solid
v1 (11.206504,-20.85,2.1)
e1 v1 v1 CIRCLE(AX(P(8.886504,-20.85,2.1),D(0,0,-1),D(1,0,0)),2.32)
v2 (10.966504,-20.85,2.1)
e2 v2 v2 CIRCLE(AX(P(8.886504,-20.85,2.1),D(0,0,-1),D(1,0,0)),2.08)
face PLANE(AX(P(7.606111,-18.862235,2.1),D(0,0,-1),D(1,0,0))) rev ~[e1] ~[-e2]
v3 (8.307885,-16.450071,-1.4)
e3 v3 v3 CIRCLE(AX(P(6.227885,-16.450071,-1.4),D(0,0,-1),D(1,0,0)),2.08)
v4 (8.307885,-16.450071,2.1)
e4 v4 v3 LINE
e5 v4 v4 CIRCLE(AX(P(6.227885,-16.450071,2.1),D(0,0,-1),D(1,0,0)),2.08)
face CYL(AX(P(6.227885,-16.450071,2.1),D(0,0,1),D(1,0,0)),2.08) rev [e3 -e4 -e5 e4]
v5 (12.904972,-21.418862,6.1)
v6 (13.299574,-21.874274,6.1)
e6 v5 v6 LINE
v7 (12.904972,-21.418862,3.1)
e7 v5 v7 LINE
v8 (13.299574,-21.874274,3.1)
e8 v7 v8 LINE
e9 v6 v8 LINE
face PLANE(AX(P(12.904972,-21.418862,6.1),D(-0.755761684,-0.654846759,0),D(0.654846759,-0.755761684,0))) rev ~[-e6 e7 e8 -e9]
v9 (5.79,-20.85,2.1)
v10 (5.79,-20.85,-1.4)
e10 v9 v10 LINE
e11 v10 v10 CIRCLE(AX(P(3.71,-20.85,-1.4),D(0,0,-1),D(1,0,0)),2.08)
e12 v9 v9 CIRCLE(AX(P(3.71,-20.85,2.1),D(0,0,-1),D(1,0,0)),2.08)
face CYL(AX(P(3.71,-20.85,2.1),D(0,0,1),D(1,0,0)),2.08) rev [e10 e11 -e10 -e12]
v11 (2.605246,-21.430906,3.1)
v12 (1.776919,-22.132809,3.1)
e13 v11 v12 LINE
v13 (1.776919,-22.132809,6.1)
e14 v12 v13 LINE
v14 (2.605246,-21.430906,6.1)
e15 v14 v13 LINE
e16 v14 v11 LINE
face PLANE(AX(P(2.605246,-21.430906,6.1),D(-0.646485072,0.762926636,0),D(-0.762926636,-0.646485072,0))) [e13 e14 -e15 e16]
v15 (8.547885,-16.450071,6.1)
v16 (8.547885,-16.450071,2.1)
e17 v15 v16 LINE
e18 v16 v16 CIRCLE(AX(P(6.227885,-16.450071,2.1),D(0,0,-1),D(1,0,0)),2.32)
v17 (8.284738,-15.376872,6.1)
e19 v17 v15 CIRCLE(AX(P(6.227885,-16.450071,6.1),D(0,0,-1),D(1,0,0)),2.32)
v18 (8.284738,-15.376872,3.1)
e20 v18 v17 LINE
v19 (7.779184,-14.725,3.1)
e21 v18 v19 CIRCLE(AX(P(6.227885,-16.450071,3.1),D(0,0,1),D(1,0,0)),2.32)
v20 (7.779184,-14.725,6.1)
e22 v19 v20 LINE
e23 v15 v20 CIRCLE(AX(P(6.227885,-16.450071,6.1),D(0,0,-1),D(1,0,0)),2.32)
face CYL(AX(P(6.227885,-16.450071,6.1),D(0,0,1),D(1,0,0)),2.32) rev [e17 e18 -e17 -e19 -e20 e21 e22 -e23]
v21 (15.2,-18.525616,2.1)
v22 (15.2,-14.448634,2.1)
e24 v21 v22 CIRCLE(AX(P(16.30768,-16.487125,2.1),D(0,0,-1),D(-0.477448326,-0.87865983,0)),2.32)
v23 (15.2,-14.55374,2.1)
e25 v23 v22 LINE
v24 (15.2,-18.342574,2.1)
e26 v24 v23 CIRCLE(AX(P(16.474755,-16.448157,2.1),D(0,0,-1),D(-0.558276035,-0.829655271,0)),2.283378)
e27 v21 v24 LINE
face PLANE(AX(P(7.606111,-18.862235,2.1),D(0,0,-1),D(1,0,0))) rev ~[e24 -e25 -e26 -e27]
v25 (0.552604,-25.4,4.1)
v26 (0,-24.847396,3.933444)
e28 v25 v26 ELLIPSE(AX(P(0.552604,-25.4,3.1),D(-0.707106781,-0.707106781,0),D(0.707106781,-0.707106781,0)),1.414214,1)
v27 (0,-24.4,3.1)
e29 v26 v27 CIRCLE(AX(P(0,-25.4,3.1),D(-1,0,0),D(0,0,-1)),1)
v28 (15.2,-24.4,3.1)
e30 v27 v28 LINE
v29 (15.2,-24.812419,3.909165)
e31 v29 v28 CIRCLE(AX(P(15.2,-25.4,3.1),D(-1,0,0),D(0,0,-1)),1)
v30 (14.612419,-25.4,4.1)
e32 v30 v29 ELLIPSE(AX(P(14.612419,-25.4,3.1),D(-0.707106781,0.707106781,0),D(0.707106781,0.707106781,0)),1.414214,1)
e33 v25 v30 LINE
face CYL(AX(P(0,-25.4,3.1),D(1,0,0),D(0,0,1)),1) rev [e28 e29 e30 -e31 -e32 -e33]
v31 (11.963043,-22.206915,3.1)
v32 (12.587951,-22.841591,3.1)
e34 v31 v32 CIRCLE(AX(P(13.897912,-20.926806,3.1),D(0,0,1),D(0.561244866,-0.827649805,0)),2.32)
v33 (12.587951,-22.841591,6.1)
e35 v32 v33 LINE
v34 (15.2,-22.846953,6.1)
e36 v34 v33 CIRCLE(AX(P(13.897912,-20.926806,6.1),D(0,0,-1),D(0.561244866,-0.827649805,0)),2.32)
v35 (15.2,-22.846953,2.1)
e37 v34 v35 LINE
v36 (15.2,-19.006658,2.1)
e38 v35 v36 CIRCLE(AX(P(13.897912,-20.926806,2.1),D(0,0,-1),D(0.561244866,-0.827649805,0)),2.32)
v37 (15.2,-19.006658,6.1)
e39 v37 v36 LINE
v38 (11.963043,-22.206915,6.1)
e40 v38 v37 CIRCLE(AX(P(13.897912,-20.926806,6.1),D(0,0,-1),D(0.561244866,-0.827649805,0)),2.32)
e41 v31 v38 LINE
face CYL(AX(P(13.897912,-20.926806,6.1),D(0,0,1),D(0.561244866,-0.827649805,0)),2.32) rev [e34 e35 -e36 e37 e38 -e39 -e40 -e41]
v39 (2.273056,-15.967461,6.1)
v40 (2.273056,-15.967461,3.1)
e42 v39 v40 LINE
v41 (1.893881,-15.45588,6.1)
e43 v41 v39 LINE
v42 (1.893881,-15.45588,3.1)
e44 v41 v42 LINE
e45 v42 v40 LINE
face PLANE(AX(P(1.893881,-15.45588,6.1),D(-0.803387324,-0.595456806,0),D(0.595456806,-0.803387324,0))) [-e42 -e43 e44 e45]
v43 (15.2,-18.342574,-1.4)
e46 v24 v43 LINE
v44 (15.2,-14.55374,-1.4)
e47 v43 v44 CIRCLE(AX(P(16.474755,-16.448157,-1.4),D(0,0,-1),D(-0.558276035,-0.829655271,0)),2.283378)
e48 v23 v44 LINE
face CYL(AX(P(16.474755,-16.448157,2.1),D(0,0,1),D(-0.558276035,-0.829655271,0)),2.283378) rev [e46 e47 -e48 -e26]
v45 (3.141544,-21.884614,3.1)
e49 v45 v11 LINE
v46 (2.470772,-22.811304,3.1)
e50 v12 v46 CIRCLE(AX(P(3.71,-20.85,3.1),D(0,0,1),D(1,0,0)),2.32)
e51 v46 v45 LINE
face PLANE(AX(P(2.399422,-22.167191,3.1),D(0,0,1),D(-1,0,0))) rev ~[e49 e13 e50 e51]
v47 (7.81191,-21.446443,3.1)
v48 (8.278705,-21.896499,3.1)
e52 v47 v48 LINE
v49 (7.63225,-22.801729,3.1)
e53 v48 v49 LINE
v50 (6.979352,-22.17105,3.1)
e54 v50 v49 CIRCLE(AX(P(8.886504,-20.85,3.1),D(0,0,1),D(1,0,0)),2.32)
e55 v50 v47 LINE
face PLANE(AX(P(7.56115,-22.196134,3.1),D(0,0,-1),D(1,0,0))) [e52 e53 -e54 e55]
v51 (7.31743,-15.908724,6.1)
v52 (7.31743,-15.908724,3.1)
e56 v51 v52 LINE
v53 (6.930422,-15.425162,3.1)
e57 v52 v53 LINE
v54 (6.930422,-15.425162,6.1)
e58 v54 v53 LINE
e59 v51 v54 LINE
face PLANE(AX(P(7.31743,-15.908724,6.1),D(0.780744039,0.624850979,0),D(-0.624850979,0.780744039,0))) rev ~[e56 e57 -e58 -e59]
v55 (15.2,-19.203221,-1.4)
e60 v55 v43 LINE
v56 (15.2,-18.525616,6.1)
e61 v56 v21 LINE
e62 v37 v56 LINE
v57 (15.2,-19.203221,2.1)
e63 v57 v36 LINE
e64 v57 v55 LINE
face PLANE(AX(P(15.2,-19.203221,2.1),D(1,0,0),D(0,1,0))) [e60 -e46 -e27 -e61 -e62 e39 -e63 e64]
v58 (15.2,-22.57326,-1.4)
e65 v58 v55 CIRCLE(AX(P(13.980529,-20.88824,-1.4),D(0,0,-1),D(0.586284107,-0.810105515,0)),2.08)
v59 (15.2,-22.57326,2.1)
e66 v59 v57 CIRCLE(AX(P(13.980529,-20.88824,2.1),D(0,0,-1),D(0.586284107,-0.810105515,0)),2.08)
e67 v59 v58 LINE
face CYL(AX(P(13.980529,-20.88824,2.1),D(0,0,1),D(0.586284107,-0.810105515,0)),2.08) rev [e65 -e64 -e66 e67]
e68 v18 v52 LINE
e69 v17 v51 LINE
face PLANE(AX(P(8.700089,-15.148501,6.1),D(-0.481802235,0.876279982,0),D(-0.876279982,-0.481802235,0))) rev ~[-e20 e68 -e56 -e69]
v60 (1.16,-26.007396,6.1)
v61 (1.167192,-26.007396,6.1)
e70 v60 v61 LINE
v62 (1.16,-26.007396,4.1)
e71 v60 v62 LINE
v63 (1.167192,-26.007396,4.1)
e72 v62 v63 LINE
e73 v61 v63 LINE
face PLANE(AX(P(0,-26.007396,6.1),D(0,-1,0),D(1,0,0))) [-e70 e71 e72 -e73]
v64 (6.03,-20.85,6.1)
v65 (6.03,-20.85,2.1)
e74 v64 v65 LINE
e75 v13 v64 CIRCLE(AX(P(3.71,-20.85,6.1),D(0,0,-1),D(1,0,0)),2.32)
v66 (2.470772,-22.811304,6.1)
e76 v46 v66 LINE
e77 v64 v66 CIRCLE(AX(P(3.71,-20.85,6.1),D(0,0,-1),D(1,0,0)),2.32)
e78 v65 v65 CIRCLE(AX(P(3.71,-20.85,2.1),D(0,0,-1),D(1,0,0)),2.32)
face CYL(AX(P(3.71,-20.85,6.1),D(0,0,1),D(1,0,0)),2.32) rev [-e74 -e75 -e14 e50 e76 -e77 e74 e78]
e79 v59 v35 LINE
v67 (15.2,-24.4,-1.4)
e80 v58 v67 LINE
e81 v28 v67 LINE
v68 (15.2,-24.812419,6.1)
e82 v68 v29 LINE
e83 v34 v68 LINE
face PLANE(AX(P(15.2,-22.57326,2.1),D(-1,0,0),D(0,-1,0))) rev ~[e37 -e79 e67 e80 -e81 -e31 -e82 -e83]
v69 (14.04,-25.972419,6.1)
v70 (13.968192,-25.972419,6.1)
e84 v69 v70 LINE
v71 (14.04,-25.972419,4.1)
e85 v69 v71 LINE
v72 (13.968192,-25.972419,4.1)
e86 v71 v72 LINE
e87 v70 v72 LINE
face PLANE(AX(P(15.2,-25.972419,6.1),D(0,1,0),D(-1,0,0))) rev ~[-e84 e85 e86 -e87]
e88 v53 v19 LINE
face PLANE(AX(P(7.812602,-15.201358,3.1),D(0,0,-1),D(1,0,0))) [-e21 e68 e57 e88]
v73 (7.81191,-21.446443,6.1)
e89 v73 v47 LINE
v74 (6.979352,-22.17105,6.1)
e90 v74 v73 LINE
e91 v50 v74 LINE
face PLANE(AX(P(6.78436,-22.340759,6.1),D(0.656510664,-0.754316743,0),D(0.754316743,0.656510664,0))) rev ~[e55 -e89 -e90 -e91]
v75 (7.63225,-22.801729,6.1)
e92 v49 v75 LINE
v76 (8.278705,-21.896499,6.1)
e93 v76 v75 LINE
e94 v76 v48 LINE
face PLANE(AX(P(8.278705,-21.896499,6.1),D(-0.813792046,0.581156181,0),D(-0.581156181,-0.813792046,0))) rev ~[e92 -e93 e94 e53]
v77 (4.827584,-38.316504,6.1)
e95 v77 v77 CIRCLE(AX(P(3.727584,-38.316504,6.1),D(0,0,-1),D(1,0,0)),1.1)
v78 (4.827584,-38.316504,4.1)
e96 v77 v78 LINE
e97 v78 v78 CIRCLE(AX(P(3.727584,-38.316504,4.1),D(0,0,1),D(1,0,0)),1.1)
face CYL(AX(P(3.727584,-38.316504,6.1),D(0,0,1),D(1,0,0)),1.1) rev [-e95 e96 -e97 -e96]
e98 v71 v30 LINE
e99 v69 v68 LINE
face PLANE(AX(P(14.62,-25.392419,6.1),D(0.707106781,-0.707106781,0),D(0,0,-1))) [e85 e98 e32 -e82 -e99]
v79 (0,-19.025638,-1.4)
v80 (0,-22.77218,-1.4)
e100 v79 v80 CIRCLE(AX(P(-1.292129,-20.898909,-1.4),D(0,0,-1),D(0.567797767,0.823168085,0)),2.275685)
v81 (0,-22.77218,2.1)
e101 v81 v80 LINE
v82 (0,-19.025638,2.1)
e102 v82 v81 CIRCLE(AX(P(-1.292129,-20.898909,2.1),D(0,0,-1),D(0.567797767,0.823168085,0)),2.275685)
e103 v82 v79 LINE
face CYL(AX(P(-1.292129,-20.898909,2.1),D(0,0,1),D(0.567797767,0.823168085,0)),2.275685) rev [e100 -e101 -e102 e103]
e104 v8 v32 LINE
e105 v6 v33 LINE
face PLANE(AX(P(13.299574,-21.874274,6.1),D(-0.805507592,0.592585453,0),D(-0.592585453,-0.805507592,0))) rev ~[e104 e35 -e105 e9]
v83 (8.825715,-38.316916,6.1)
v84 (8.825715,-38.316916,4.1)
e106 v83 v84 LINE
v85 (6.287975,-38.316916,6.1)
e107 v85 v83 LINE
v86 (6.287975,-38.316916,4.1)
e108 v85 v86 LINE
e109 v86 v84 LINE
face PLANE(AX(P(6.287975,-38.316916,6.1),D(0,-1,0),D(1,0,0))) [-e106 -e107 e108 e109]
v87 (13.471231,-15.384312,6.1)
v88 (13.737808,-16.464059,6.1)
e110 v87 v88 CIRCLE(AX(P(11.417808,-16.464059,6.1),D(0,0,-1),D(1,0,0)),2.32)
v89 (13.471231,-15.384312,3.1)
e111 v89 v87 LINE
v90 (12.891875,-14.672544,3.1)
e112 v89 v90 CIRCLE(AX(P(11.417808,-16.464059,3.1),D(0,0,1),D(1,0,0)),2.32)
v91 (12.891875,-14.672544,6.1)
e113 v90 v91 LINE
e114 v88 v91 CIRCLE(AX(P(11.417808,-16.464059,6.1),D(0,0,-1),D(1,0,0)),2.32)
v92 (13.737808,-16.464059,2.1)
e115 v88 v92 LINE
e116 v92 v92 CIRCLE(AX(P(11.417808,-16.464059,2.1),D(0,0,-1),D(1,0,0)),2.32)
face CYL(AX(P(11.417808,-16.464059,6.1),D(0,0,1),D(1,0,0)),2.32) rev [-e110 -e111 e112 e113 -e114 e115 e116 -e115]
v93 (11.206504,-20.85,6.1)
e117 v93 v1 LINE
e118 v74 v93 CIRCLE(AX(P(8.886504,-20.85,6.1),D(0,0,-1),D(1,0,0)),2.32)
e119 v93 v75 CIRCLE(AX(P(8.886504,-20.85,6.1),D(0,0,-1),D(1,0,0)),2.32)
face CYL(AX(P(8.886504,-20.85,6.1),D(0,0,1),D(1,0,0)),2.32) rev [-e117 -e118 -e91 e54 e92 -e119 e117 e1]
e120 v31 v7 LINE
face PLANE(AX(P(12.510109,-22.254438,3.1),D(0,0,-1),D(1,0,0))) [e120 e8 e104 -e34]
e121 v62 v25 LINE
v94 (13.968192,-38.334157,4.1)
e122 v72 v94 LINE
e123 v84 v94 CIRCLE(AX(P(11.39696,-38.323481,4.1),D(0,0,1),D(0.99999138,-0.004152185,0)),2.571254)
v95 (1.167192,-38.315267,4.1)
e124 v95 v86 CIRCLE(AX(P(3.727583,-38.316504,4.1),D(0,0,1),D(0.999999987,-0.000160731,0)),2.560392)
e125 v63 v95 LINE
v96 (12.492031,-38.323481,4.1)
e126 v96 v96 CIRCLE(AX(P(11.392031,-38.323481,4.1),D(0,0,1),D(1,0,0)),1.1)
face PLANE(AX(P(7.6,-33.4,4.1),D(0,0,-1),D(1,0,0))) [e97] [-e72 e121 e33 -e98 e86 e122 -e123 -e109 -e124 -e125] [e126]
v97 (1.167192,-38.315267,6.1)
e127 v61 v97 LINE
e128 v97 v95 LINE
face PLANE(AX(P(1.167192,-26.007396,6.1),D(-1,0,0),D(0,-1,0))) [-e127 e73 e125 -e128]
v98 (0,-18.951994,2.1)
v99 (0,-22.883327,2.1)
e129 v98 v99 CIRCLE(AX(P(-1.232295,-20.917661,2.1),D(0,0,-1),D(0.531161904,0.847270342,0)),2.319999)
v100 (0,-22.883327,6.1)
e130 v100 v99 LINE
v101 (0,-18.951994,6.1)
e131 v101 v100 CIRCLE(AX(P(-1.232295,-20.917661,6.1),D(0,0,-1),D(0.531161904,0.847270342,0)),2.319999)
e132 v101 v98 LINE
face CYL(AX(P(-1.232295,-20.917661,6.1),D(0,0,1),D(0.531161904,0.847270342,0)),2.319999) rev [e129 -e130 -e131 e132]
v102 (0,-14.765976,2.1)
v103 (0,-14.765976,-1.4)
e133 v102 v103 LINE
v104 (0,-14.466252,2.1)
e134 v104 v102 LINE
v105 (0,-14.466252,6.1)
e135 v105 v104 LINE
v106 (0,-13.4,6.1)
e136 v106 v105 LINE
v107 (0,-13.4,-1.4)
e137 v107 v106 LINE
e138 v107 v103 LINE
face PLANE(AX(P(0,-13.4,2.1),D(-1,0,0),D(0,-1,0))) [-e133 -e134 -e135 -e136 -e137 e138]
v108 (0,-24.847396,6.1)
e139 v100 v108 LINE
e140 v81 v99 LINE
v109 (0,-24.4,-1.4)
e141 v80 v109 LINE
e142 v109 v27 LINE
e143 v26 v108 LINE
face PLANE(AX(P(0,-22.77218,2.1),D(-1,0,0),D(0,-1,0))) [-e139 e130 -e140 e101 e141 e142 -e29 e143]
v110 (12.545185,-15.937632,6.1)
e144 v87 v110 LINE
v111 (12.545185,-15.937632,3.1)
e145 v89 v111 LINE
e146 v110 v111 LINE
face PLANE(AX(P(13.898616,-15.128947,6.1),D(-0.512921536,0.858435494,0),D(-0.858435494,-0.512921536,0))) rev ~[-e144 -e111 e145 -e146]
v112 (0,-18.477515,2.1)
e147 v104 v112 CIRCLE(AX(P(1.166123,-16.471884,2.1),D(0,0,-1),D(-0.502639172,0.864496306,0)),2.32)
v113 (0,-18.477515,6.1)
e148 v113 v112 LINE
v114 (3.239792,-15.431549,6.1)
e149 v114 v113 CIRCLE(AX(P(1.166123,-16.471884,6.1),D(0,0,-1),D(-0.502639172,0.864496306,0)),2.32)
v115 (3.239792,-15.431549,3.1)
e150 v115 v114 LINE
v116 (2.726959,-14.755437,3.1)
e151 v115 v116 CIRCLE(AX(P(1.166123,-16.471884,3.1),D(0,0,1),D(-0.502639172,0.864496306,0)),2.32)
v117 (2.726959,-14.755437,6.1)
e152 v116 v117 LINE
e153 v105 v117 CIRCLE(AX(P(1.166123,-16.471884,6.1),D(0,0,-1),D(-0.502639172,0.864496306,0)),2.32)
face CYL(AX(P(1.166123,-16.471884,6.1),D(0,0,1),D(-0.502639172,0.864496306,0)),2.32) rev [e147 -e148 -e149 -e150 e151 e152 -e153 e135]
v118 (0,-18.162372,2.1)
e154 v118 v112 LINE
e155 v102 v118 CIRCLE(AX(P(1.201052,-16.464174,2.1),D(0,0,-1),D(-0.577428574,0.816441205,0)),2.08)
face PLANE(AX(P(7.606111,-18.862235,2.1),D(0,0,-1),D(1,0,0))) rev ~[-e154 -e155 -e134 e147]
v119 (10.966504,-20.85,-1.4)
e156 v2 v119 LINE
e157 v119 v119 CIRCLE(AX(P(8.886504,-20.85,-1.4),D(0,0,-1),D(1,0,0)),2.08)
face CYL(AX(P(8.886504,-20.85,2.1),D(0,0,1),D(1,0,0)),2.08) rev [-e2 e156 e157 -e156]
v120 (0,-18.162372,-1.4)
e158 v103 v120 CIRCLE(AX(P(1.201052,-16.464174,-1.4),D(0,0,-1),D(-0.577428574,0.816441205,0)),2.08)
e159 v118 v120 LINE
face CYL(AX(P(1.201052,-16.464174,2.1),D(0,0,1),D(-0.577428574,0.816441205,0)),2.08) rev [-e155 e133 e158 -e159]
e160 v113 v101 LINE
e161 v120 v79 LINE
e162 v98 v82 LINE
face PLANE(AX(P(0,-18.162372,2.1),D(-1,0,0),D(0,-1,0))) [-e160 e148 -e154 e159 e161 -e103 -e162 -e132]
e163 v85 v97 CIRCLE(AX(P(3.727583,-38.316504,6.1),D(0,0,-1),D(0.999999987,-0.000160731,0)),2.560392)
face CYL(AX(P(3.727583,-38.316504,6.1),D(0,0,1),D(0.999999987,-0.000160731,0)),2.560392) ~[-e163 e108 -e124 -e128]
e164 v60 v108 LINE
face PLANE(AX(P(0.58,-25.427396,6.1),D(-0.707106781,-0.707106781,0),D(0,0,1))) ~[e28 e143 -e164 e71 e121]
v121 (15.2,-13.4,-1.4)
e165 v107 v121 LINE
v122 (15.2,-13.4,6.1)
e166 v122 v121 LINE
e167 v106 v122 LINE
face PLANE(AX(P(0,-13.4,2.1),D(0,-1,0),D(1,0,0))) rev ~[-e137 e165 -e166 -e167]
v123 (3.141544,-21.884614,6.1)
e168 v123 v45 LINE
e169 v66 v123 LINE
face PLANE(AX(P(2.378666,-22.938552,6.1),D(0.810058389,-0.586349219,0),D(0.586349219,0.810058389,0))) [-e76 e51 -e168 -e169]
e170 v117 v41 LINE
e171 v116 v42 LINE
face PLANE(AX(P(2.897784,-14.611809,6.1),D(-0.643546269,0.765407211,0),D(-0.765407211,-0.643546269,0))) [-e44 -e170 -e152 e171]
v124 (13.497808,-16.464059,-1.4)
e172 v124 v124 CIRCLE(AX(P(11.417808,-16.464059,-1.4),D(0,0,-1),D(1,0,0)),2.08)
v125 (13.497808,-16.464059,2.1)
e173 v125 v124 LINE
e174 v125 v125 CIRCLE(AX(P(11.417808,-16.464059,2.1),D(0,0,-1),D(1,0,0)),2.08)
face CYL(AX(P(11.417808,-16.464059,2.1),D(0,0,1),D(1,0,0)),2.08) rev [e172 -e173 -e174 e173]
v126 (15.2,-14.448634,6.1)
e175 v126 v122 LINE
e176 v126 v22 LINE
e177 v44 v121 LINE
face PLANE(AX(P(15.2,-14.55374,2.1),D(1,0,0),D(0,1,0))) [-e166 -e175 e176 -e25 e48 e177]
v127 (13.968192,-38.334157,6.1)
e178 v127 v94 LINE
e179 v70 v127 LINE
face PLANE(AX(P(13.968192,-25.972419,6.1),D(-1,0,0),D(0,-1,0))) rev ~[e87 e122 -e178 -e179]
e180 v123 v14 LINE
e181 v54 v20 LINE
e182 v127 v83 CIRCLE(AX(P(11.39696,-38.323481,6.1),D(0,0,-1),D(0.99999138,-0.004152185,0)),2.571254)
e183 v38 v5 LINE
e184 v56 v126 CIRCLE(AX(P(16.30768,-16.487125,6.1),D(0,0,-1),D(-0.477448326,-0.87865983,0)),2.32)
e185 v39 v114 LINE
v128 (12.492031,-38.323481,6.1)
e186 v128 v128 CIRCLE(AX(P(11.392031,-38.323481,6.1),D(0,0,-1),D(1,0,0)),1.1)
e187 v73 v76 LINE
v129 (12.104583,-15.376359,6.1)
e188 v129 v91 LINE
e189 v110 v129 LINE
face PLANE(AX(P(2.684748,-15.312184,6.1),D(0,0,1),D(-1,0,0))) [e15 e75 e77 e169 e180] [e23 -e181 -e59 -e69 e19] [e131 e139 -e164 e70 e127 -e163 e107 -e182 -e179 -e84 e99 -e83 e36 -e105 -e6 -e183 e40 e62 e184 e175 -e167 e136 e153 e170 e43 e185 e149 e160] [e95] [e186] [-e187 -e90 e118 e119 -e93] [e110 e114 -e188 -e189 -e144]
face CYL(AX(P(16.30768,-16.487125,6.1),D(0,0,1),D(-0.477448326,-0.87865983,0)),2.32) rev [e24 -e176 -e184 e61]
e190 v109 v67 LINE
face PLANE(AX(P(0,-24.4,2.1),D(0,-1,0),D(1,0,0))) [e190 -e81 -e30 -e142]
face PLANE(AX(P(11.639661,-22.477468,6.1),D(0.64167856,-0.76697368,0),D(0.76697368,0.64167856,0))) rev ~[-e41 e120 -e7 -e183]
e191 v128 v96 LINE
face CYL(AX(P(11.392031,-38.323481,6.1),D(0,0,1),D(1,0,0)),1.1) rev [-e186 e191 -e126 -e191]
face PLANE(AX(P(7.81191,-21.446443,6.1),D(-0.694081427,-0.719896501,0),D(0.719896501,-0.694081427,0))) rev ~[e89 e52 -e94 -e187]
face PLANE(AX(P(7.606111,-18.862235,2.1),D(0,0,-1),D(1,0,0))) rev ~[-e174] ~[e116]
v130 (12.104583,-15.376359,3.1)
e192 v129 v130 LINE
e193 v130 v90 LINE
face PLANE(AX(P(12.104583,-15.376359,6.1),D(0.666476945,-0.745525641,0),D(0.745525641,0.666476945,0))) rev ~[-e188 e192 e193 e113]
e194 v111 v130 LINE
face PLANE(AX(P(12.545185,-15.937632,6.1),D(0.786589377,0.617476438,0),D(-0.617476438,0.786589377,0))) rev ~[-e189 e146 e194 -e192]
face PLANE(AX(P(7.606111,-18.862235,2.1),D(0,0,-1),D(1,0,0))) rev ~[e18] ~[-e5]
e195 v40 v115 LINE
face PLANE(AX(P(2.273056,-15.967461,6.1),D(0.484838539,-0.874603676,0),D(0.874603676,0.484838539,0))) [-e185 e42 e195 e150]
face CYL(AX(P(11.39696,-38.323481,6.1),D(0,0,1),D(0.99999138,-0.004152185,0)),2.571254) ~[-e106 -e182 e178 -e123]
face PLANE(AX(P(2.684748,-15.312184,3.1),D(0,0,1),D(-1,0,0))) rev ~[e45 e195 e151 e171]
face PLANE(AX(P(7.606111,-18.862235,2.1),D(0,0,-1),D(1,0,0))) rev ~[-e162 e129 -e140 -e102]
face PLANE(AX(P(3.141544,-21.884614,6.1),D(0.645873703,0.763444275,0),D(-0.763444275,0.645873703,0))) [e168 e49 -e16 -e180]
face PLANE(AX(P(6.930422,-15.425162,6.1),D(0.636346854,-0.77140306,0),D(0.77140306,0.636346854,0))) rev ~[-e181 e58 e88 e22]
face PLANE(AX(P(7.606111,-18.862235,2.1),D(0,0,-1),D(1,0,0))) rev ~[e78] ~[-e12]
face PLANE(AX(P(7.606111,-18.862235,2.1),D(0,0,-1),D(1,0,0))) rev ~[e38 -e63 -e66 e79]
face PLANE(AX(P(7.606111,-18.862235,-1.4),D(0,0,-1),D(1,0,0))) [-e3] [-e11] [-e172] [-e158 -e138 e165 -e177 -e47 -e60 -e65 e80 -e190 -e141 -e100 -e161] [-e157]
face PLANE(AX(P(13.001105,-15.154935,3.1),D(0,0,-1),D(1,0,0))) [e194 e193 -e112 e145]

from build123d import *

# Parameters (mm, degrees)
BOX_W                     = 15.2
BOX_H                     = 18
BOX_DEPTH                 = 10
PAD007_DEPTH              = 3
SKETCH007_R               = 2.08
PAD006_DEPTH              = 3.5
SKETCH006_R               = 1.1
SKETCH006_R_2             = 2.32
PAD005_DEPTH              = 4
CHAMFER004_SIZE           = 1.16
FILLET_R                  = 1
FUSION003_PLACEMENT_ANGLE = 180


with BuildPart() as w_rfel:
    # Box → Box (new body)
    with BuildSketch(Plane(origin=(0, 11, 2), x_dir=(1, 0, 0), z_dir=(0, 0, 1))):
        with Locations((7.6, 9)):
            Rectangle(BOX_W, BOX_H)
    extrude(amount=BOX_DEPTH)


with BuildPart() as pad007:
    # Sketch003 → Pad007 (new body)
    with BuildSketch(Plane.XY):
        Polygon((2.378666, 9.538552), (3.141544, 8.484614), (2.605246, 8.030906), (1.603856, 8.879459), align=None)
        Polygon((6.78436, 8.940759), (7.81191, 8.046443), (8.278705, 8.496499), (7.513181, 9.568461), align=None)
        Polygon((11.639661, 9.077468), (12.904972, 8.018862), (13.299574, 8.474274), (12.400975, 9.695749), align=None)
        Polygon((12.104583, 1.976359), (13.30563, 0.90266), (13.898616, 1.728947), (12.545185, 2.537632), align=None)
        Polygon((8.700089, 1.748501), (7.31743, 2.508724), (6.930422, 2.025162), (8.137034, 1.029802), align=None)
        Polygon((2.273056, 2.567461), (3.508846, 1.882398), (2.897784, 1.211809), (1.893881, 2.05588), align=None)
    extrude(amount=PAD007_DEPTH)


with BuildPart() as pad006:
    # Sketch007 → Pad006 (new body)
    with BuildSketch(Plane.XY.offset(4)):
        with BuildLine():
            Line((0, 0), (15.2, 0))
            Line((15.2, 1.15374), (15.2, 0))
            ThreePointArc((15.2, 4.942574), (14.191377, 3.048157), (15.2, 1.15374))
            Line((15.2, 5.803221), (15.2, 4.942574))
            ThreePointArc((15.2, 9.17326), (11.900529, 7.488241), (15.2, 5.803221))
            Line((15.2, 9.17326), (15.2, 11))
            Line((0, 11), (15.2, 11))
            Line((0, 9.37218), (0, 11))
            ThreePointArc((0, 5.625638), (0.983556, 7.498909), (0, 9.37218))
            Line((0, 4.762372), (0, 5.625638))
            ThreePointArc((0, 1.365976), (3.281052, 3.064174), (0, 4.762372))
            Line((0, 0), (0, 1.365976))
        make_face()
        with Locations((3.71, 7.45)):
            Circle(SKETCH007_R, mode=Mode.SUBTRACT)
        with Locations((8.886504, 7.45)):
            Circle(SKETCH007_R, mode=Mode.SUBTRACT)
        with Locations((11.417808, 3.064059)):
            Circle(SKETCH007_R, mode=Mode.SUBTRACT)
        with Locations((6.227885, 3.050071)):
            Circle(SKETCH007_R, mode=Mode.SUBTRACT)
    extrude(amount=PAD006_DEPTH)


with BuildPart() as cut:
    # Sketch006 → Pad005 (new body)
    with BuildSketch(Plane.XY):
        with BuildLine():
            Line((1.167192, 12.607396), (1.167192, 24.915267))
            ThreePointArc((6.287975, 24.916916), (3.726759, 27.476896), (1.167192, 24.915267))
            Line((6.287975, 24.916916), (8.825715, 24.916916))
            ThreePointArc((13.968192, 24.934157), (11.38834, 27.49472), (8.825715, 24.916916))
            Line((13.968192, 12.572419), (13.968192, 24.934157))
            Line((15.2, 12.572419), (13.968192, 12.572419))
            Line((15.2, 9.446953), (15.2, 12.572419))
            ThreePointArc((15.2, 9.446953), (11.577912, 7.526805), (15.2, 5.606658))
            Line((15.2, 5.606658), (15.2, 5.125616))
            ThreePointArc((15.2, 5.125616), (13.98768, 3.087125), (15.2, 1.048634))
            Line((15.2, 1.048634), (15.2, 0))
            Line((0, 0), (15.2, 0))
            Line((0, 0), (0, 1.066252))
            ThreePointArc((0, 1.066252), (3.486123, 3.071883), (0, 5.077515))
            Line((0, 5.077515), (0, 5.551994))
            ThreePointArc((0, 5.551994), (1.087704, 7.51766), (0, 9.483327))
            Line((0, 9.483327), (0, 12.607396))
            Line((0, 12.607396), (1.167192, 12.607396))
        make_face()
        with Locations((3.727584, 24.916504)):
            Circle(SKETCH006_R, mode=Mode.SUBTRACT)
        with Locations((11.392031, 24.923481)):
            Circle(SKETCH006_R, mode=Mode.SUBTRACT)
        with Locations((3.71, 7.45)):
            Circle(SKETCH006_R_2, mode=Mode.SUBTRACT)
        with Locations((8.886504, 7.45)):
            Circle(SKETCH006_R_2, mode=Mode.SUBTRACT)
        with Locations((11.417808, 3.064059)):
            Circle(SKETCH006_R_2, mode=Mode.SUBTRACT)
        with Locations((6.227885, 3.050071)):
            Circle(SKETCH006_R_2, mode=Mode.SUBTRACT)
    extrude(amount=PAD005_DEPTH)

    # Chamfer004
    chamfer004_edges = [cut.edges().sort_by_distance(p)[0] for p in [
        (0, 12.607396, 2),
        (15.2, 12.572419, 2),
    ]]
    chamfer(chamfer004_edges, length=CHAMFER004_SIZE)

    # Fusion001: union Pad007, Pad006
    add(pad007.part)
    add(pad006.part)

    # Cut: cut Würfel
    add(w_rfel.part, mode=Mode.SUBTRACT)


with BuildPart() as fusion003:
    # Fillet base: copy of Cut
    add(cut.part)

    # Fillet
    fillet_edges = [fusion003.edges().sort_by_distance(p)[0] for p in [
        (7.6, 11, 2),
    ]]
    fillet(fillet_edges, radius=FILLET_R)

    # Fusion003: union Cut
    add(cut.part)


with BuildPart() as fusion003_1:
    # Fusion003 placement: moved
    add(fusion003.part.moved(Location((0, -13.4, 6.1))).rotate(Axis((0, -13.4, 6.1), (1, 0, 0)), FUSION003_PLACEMENT_ANGLE))


solid = fusion003_1.part
